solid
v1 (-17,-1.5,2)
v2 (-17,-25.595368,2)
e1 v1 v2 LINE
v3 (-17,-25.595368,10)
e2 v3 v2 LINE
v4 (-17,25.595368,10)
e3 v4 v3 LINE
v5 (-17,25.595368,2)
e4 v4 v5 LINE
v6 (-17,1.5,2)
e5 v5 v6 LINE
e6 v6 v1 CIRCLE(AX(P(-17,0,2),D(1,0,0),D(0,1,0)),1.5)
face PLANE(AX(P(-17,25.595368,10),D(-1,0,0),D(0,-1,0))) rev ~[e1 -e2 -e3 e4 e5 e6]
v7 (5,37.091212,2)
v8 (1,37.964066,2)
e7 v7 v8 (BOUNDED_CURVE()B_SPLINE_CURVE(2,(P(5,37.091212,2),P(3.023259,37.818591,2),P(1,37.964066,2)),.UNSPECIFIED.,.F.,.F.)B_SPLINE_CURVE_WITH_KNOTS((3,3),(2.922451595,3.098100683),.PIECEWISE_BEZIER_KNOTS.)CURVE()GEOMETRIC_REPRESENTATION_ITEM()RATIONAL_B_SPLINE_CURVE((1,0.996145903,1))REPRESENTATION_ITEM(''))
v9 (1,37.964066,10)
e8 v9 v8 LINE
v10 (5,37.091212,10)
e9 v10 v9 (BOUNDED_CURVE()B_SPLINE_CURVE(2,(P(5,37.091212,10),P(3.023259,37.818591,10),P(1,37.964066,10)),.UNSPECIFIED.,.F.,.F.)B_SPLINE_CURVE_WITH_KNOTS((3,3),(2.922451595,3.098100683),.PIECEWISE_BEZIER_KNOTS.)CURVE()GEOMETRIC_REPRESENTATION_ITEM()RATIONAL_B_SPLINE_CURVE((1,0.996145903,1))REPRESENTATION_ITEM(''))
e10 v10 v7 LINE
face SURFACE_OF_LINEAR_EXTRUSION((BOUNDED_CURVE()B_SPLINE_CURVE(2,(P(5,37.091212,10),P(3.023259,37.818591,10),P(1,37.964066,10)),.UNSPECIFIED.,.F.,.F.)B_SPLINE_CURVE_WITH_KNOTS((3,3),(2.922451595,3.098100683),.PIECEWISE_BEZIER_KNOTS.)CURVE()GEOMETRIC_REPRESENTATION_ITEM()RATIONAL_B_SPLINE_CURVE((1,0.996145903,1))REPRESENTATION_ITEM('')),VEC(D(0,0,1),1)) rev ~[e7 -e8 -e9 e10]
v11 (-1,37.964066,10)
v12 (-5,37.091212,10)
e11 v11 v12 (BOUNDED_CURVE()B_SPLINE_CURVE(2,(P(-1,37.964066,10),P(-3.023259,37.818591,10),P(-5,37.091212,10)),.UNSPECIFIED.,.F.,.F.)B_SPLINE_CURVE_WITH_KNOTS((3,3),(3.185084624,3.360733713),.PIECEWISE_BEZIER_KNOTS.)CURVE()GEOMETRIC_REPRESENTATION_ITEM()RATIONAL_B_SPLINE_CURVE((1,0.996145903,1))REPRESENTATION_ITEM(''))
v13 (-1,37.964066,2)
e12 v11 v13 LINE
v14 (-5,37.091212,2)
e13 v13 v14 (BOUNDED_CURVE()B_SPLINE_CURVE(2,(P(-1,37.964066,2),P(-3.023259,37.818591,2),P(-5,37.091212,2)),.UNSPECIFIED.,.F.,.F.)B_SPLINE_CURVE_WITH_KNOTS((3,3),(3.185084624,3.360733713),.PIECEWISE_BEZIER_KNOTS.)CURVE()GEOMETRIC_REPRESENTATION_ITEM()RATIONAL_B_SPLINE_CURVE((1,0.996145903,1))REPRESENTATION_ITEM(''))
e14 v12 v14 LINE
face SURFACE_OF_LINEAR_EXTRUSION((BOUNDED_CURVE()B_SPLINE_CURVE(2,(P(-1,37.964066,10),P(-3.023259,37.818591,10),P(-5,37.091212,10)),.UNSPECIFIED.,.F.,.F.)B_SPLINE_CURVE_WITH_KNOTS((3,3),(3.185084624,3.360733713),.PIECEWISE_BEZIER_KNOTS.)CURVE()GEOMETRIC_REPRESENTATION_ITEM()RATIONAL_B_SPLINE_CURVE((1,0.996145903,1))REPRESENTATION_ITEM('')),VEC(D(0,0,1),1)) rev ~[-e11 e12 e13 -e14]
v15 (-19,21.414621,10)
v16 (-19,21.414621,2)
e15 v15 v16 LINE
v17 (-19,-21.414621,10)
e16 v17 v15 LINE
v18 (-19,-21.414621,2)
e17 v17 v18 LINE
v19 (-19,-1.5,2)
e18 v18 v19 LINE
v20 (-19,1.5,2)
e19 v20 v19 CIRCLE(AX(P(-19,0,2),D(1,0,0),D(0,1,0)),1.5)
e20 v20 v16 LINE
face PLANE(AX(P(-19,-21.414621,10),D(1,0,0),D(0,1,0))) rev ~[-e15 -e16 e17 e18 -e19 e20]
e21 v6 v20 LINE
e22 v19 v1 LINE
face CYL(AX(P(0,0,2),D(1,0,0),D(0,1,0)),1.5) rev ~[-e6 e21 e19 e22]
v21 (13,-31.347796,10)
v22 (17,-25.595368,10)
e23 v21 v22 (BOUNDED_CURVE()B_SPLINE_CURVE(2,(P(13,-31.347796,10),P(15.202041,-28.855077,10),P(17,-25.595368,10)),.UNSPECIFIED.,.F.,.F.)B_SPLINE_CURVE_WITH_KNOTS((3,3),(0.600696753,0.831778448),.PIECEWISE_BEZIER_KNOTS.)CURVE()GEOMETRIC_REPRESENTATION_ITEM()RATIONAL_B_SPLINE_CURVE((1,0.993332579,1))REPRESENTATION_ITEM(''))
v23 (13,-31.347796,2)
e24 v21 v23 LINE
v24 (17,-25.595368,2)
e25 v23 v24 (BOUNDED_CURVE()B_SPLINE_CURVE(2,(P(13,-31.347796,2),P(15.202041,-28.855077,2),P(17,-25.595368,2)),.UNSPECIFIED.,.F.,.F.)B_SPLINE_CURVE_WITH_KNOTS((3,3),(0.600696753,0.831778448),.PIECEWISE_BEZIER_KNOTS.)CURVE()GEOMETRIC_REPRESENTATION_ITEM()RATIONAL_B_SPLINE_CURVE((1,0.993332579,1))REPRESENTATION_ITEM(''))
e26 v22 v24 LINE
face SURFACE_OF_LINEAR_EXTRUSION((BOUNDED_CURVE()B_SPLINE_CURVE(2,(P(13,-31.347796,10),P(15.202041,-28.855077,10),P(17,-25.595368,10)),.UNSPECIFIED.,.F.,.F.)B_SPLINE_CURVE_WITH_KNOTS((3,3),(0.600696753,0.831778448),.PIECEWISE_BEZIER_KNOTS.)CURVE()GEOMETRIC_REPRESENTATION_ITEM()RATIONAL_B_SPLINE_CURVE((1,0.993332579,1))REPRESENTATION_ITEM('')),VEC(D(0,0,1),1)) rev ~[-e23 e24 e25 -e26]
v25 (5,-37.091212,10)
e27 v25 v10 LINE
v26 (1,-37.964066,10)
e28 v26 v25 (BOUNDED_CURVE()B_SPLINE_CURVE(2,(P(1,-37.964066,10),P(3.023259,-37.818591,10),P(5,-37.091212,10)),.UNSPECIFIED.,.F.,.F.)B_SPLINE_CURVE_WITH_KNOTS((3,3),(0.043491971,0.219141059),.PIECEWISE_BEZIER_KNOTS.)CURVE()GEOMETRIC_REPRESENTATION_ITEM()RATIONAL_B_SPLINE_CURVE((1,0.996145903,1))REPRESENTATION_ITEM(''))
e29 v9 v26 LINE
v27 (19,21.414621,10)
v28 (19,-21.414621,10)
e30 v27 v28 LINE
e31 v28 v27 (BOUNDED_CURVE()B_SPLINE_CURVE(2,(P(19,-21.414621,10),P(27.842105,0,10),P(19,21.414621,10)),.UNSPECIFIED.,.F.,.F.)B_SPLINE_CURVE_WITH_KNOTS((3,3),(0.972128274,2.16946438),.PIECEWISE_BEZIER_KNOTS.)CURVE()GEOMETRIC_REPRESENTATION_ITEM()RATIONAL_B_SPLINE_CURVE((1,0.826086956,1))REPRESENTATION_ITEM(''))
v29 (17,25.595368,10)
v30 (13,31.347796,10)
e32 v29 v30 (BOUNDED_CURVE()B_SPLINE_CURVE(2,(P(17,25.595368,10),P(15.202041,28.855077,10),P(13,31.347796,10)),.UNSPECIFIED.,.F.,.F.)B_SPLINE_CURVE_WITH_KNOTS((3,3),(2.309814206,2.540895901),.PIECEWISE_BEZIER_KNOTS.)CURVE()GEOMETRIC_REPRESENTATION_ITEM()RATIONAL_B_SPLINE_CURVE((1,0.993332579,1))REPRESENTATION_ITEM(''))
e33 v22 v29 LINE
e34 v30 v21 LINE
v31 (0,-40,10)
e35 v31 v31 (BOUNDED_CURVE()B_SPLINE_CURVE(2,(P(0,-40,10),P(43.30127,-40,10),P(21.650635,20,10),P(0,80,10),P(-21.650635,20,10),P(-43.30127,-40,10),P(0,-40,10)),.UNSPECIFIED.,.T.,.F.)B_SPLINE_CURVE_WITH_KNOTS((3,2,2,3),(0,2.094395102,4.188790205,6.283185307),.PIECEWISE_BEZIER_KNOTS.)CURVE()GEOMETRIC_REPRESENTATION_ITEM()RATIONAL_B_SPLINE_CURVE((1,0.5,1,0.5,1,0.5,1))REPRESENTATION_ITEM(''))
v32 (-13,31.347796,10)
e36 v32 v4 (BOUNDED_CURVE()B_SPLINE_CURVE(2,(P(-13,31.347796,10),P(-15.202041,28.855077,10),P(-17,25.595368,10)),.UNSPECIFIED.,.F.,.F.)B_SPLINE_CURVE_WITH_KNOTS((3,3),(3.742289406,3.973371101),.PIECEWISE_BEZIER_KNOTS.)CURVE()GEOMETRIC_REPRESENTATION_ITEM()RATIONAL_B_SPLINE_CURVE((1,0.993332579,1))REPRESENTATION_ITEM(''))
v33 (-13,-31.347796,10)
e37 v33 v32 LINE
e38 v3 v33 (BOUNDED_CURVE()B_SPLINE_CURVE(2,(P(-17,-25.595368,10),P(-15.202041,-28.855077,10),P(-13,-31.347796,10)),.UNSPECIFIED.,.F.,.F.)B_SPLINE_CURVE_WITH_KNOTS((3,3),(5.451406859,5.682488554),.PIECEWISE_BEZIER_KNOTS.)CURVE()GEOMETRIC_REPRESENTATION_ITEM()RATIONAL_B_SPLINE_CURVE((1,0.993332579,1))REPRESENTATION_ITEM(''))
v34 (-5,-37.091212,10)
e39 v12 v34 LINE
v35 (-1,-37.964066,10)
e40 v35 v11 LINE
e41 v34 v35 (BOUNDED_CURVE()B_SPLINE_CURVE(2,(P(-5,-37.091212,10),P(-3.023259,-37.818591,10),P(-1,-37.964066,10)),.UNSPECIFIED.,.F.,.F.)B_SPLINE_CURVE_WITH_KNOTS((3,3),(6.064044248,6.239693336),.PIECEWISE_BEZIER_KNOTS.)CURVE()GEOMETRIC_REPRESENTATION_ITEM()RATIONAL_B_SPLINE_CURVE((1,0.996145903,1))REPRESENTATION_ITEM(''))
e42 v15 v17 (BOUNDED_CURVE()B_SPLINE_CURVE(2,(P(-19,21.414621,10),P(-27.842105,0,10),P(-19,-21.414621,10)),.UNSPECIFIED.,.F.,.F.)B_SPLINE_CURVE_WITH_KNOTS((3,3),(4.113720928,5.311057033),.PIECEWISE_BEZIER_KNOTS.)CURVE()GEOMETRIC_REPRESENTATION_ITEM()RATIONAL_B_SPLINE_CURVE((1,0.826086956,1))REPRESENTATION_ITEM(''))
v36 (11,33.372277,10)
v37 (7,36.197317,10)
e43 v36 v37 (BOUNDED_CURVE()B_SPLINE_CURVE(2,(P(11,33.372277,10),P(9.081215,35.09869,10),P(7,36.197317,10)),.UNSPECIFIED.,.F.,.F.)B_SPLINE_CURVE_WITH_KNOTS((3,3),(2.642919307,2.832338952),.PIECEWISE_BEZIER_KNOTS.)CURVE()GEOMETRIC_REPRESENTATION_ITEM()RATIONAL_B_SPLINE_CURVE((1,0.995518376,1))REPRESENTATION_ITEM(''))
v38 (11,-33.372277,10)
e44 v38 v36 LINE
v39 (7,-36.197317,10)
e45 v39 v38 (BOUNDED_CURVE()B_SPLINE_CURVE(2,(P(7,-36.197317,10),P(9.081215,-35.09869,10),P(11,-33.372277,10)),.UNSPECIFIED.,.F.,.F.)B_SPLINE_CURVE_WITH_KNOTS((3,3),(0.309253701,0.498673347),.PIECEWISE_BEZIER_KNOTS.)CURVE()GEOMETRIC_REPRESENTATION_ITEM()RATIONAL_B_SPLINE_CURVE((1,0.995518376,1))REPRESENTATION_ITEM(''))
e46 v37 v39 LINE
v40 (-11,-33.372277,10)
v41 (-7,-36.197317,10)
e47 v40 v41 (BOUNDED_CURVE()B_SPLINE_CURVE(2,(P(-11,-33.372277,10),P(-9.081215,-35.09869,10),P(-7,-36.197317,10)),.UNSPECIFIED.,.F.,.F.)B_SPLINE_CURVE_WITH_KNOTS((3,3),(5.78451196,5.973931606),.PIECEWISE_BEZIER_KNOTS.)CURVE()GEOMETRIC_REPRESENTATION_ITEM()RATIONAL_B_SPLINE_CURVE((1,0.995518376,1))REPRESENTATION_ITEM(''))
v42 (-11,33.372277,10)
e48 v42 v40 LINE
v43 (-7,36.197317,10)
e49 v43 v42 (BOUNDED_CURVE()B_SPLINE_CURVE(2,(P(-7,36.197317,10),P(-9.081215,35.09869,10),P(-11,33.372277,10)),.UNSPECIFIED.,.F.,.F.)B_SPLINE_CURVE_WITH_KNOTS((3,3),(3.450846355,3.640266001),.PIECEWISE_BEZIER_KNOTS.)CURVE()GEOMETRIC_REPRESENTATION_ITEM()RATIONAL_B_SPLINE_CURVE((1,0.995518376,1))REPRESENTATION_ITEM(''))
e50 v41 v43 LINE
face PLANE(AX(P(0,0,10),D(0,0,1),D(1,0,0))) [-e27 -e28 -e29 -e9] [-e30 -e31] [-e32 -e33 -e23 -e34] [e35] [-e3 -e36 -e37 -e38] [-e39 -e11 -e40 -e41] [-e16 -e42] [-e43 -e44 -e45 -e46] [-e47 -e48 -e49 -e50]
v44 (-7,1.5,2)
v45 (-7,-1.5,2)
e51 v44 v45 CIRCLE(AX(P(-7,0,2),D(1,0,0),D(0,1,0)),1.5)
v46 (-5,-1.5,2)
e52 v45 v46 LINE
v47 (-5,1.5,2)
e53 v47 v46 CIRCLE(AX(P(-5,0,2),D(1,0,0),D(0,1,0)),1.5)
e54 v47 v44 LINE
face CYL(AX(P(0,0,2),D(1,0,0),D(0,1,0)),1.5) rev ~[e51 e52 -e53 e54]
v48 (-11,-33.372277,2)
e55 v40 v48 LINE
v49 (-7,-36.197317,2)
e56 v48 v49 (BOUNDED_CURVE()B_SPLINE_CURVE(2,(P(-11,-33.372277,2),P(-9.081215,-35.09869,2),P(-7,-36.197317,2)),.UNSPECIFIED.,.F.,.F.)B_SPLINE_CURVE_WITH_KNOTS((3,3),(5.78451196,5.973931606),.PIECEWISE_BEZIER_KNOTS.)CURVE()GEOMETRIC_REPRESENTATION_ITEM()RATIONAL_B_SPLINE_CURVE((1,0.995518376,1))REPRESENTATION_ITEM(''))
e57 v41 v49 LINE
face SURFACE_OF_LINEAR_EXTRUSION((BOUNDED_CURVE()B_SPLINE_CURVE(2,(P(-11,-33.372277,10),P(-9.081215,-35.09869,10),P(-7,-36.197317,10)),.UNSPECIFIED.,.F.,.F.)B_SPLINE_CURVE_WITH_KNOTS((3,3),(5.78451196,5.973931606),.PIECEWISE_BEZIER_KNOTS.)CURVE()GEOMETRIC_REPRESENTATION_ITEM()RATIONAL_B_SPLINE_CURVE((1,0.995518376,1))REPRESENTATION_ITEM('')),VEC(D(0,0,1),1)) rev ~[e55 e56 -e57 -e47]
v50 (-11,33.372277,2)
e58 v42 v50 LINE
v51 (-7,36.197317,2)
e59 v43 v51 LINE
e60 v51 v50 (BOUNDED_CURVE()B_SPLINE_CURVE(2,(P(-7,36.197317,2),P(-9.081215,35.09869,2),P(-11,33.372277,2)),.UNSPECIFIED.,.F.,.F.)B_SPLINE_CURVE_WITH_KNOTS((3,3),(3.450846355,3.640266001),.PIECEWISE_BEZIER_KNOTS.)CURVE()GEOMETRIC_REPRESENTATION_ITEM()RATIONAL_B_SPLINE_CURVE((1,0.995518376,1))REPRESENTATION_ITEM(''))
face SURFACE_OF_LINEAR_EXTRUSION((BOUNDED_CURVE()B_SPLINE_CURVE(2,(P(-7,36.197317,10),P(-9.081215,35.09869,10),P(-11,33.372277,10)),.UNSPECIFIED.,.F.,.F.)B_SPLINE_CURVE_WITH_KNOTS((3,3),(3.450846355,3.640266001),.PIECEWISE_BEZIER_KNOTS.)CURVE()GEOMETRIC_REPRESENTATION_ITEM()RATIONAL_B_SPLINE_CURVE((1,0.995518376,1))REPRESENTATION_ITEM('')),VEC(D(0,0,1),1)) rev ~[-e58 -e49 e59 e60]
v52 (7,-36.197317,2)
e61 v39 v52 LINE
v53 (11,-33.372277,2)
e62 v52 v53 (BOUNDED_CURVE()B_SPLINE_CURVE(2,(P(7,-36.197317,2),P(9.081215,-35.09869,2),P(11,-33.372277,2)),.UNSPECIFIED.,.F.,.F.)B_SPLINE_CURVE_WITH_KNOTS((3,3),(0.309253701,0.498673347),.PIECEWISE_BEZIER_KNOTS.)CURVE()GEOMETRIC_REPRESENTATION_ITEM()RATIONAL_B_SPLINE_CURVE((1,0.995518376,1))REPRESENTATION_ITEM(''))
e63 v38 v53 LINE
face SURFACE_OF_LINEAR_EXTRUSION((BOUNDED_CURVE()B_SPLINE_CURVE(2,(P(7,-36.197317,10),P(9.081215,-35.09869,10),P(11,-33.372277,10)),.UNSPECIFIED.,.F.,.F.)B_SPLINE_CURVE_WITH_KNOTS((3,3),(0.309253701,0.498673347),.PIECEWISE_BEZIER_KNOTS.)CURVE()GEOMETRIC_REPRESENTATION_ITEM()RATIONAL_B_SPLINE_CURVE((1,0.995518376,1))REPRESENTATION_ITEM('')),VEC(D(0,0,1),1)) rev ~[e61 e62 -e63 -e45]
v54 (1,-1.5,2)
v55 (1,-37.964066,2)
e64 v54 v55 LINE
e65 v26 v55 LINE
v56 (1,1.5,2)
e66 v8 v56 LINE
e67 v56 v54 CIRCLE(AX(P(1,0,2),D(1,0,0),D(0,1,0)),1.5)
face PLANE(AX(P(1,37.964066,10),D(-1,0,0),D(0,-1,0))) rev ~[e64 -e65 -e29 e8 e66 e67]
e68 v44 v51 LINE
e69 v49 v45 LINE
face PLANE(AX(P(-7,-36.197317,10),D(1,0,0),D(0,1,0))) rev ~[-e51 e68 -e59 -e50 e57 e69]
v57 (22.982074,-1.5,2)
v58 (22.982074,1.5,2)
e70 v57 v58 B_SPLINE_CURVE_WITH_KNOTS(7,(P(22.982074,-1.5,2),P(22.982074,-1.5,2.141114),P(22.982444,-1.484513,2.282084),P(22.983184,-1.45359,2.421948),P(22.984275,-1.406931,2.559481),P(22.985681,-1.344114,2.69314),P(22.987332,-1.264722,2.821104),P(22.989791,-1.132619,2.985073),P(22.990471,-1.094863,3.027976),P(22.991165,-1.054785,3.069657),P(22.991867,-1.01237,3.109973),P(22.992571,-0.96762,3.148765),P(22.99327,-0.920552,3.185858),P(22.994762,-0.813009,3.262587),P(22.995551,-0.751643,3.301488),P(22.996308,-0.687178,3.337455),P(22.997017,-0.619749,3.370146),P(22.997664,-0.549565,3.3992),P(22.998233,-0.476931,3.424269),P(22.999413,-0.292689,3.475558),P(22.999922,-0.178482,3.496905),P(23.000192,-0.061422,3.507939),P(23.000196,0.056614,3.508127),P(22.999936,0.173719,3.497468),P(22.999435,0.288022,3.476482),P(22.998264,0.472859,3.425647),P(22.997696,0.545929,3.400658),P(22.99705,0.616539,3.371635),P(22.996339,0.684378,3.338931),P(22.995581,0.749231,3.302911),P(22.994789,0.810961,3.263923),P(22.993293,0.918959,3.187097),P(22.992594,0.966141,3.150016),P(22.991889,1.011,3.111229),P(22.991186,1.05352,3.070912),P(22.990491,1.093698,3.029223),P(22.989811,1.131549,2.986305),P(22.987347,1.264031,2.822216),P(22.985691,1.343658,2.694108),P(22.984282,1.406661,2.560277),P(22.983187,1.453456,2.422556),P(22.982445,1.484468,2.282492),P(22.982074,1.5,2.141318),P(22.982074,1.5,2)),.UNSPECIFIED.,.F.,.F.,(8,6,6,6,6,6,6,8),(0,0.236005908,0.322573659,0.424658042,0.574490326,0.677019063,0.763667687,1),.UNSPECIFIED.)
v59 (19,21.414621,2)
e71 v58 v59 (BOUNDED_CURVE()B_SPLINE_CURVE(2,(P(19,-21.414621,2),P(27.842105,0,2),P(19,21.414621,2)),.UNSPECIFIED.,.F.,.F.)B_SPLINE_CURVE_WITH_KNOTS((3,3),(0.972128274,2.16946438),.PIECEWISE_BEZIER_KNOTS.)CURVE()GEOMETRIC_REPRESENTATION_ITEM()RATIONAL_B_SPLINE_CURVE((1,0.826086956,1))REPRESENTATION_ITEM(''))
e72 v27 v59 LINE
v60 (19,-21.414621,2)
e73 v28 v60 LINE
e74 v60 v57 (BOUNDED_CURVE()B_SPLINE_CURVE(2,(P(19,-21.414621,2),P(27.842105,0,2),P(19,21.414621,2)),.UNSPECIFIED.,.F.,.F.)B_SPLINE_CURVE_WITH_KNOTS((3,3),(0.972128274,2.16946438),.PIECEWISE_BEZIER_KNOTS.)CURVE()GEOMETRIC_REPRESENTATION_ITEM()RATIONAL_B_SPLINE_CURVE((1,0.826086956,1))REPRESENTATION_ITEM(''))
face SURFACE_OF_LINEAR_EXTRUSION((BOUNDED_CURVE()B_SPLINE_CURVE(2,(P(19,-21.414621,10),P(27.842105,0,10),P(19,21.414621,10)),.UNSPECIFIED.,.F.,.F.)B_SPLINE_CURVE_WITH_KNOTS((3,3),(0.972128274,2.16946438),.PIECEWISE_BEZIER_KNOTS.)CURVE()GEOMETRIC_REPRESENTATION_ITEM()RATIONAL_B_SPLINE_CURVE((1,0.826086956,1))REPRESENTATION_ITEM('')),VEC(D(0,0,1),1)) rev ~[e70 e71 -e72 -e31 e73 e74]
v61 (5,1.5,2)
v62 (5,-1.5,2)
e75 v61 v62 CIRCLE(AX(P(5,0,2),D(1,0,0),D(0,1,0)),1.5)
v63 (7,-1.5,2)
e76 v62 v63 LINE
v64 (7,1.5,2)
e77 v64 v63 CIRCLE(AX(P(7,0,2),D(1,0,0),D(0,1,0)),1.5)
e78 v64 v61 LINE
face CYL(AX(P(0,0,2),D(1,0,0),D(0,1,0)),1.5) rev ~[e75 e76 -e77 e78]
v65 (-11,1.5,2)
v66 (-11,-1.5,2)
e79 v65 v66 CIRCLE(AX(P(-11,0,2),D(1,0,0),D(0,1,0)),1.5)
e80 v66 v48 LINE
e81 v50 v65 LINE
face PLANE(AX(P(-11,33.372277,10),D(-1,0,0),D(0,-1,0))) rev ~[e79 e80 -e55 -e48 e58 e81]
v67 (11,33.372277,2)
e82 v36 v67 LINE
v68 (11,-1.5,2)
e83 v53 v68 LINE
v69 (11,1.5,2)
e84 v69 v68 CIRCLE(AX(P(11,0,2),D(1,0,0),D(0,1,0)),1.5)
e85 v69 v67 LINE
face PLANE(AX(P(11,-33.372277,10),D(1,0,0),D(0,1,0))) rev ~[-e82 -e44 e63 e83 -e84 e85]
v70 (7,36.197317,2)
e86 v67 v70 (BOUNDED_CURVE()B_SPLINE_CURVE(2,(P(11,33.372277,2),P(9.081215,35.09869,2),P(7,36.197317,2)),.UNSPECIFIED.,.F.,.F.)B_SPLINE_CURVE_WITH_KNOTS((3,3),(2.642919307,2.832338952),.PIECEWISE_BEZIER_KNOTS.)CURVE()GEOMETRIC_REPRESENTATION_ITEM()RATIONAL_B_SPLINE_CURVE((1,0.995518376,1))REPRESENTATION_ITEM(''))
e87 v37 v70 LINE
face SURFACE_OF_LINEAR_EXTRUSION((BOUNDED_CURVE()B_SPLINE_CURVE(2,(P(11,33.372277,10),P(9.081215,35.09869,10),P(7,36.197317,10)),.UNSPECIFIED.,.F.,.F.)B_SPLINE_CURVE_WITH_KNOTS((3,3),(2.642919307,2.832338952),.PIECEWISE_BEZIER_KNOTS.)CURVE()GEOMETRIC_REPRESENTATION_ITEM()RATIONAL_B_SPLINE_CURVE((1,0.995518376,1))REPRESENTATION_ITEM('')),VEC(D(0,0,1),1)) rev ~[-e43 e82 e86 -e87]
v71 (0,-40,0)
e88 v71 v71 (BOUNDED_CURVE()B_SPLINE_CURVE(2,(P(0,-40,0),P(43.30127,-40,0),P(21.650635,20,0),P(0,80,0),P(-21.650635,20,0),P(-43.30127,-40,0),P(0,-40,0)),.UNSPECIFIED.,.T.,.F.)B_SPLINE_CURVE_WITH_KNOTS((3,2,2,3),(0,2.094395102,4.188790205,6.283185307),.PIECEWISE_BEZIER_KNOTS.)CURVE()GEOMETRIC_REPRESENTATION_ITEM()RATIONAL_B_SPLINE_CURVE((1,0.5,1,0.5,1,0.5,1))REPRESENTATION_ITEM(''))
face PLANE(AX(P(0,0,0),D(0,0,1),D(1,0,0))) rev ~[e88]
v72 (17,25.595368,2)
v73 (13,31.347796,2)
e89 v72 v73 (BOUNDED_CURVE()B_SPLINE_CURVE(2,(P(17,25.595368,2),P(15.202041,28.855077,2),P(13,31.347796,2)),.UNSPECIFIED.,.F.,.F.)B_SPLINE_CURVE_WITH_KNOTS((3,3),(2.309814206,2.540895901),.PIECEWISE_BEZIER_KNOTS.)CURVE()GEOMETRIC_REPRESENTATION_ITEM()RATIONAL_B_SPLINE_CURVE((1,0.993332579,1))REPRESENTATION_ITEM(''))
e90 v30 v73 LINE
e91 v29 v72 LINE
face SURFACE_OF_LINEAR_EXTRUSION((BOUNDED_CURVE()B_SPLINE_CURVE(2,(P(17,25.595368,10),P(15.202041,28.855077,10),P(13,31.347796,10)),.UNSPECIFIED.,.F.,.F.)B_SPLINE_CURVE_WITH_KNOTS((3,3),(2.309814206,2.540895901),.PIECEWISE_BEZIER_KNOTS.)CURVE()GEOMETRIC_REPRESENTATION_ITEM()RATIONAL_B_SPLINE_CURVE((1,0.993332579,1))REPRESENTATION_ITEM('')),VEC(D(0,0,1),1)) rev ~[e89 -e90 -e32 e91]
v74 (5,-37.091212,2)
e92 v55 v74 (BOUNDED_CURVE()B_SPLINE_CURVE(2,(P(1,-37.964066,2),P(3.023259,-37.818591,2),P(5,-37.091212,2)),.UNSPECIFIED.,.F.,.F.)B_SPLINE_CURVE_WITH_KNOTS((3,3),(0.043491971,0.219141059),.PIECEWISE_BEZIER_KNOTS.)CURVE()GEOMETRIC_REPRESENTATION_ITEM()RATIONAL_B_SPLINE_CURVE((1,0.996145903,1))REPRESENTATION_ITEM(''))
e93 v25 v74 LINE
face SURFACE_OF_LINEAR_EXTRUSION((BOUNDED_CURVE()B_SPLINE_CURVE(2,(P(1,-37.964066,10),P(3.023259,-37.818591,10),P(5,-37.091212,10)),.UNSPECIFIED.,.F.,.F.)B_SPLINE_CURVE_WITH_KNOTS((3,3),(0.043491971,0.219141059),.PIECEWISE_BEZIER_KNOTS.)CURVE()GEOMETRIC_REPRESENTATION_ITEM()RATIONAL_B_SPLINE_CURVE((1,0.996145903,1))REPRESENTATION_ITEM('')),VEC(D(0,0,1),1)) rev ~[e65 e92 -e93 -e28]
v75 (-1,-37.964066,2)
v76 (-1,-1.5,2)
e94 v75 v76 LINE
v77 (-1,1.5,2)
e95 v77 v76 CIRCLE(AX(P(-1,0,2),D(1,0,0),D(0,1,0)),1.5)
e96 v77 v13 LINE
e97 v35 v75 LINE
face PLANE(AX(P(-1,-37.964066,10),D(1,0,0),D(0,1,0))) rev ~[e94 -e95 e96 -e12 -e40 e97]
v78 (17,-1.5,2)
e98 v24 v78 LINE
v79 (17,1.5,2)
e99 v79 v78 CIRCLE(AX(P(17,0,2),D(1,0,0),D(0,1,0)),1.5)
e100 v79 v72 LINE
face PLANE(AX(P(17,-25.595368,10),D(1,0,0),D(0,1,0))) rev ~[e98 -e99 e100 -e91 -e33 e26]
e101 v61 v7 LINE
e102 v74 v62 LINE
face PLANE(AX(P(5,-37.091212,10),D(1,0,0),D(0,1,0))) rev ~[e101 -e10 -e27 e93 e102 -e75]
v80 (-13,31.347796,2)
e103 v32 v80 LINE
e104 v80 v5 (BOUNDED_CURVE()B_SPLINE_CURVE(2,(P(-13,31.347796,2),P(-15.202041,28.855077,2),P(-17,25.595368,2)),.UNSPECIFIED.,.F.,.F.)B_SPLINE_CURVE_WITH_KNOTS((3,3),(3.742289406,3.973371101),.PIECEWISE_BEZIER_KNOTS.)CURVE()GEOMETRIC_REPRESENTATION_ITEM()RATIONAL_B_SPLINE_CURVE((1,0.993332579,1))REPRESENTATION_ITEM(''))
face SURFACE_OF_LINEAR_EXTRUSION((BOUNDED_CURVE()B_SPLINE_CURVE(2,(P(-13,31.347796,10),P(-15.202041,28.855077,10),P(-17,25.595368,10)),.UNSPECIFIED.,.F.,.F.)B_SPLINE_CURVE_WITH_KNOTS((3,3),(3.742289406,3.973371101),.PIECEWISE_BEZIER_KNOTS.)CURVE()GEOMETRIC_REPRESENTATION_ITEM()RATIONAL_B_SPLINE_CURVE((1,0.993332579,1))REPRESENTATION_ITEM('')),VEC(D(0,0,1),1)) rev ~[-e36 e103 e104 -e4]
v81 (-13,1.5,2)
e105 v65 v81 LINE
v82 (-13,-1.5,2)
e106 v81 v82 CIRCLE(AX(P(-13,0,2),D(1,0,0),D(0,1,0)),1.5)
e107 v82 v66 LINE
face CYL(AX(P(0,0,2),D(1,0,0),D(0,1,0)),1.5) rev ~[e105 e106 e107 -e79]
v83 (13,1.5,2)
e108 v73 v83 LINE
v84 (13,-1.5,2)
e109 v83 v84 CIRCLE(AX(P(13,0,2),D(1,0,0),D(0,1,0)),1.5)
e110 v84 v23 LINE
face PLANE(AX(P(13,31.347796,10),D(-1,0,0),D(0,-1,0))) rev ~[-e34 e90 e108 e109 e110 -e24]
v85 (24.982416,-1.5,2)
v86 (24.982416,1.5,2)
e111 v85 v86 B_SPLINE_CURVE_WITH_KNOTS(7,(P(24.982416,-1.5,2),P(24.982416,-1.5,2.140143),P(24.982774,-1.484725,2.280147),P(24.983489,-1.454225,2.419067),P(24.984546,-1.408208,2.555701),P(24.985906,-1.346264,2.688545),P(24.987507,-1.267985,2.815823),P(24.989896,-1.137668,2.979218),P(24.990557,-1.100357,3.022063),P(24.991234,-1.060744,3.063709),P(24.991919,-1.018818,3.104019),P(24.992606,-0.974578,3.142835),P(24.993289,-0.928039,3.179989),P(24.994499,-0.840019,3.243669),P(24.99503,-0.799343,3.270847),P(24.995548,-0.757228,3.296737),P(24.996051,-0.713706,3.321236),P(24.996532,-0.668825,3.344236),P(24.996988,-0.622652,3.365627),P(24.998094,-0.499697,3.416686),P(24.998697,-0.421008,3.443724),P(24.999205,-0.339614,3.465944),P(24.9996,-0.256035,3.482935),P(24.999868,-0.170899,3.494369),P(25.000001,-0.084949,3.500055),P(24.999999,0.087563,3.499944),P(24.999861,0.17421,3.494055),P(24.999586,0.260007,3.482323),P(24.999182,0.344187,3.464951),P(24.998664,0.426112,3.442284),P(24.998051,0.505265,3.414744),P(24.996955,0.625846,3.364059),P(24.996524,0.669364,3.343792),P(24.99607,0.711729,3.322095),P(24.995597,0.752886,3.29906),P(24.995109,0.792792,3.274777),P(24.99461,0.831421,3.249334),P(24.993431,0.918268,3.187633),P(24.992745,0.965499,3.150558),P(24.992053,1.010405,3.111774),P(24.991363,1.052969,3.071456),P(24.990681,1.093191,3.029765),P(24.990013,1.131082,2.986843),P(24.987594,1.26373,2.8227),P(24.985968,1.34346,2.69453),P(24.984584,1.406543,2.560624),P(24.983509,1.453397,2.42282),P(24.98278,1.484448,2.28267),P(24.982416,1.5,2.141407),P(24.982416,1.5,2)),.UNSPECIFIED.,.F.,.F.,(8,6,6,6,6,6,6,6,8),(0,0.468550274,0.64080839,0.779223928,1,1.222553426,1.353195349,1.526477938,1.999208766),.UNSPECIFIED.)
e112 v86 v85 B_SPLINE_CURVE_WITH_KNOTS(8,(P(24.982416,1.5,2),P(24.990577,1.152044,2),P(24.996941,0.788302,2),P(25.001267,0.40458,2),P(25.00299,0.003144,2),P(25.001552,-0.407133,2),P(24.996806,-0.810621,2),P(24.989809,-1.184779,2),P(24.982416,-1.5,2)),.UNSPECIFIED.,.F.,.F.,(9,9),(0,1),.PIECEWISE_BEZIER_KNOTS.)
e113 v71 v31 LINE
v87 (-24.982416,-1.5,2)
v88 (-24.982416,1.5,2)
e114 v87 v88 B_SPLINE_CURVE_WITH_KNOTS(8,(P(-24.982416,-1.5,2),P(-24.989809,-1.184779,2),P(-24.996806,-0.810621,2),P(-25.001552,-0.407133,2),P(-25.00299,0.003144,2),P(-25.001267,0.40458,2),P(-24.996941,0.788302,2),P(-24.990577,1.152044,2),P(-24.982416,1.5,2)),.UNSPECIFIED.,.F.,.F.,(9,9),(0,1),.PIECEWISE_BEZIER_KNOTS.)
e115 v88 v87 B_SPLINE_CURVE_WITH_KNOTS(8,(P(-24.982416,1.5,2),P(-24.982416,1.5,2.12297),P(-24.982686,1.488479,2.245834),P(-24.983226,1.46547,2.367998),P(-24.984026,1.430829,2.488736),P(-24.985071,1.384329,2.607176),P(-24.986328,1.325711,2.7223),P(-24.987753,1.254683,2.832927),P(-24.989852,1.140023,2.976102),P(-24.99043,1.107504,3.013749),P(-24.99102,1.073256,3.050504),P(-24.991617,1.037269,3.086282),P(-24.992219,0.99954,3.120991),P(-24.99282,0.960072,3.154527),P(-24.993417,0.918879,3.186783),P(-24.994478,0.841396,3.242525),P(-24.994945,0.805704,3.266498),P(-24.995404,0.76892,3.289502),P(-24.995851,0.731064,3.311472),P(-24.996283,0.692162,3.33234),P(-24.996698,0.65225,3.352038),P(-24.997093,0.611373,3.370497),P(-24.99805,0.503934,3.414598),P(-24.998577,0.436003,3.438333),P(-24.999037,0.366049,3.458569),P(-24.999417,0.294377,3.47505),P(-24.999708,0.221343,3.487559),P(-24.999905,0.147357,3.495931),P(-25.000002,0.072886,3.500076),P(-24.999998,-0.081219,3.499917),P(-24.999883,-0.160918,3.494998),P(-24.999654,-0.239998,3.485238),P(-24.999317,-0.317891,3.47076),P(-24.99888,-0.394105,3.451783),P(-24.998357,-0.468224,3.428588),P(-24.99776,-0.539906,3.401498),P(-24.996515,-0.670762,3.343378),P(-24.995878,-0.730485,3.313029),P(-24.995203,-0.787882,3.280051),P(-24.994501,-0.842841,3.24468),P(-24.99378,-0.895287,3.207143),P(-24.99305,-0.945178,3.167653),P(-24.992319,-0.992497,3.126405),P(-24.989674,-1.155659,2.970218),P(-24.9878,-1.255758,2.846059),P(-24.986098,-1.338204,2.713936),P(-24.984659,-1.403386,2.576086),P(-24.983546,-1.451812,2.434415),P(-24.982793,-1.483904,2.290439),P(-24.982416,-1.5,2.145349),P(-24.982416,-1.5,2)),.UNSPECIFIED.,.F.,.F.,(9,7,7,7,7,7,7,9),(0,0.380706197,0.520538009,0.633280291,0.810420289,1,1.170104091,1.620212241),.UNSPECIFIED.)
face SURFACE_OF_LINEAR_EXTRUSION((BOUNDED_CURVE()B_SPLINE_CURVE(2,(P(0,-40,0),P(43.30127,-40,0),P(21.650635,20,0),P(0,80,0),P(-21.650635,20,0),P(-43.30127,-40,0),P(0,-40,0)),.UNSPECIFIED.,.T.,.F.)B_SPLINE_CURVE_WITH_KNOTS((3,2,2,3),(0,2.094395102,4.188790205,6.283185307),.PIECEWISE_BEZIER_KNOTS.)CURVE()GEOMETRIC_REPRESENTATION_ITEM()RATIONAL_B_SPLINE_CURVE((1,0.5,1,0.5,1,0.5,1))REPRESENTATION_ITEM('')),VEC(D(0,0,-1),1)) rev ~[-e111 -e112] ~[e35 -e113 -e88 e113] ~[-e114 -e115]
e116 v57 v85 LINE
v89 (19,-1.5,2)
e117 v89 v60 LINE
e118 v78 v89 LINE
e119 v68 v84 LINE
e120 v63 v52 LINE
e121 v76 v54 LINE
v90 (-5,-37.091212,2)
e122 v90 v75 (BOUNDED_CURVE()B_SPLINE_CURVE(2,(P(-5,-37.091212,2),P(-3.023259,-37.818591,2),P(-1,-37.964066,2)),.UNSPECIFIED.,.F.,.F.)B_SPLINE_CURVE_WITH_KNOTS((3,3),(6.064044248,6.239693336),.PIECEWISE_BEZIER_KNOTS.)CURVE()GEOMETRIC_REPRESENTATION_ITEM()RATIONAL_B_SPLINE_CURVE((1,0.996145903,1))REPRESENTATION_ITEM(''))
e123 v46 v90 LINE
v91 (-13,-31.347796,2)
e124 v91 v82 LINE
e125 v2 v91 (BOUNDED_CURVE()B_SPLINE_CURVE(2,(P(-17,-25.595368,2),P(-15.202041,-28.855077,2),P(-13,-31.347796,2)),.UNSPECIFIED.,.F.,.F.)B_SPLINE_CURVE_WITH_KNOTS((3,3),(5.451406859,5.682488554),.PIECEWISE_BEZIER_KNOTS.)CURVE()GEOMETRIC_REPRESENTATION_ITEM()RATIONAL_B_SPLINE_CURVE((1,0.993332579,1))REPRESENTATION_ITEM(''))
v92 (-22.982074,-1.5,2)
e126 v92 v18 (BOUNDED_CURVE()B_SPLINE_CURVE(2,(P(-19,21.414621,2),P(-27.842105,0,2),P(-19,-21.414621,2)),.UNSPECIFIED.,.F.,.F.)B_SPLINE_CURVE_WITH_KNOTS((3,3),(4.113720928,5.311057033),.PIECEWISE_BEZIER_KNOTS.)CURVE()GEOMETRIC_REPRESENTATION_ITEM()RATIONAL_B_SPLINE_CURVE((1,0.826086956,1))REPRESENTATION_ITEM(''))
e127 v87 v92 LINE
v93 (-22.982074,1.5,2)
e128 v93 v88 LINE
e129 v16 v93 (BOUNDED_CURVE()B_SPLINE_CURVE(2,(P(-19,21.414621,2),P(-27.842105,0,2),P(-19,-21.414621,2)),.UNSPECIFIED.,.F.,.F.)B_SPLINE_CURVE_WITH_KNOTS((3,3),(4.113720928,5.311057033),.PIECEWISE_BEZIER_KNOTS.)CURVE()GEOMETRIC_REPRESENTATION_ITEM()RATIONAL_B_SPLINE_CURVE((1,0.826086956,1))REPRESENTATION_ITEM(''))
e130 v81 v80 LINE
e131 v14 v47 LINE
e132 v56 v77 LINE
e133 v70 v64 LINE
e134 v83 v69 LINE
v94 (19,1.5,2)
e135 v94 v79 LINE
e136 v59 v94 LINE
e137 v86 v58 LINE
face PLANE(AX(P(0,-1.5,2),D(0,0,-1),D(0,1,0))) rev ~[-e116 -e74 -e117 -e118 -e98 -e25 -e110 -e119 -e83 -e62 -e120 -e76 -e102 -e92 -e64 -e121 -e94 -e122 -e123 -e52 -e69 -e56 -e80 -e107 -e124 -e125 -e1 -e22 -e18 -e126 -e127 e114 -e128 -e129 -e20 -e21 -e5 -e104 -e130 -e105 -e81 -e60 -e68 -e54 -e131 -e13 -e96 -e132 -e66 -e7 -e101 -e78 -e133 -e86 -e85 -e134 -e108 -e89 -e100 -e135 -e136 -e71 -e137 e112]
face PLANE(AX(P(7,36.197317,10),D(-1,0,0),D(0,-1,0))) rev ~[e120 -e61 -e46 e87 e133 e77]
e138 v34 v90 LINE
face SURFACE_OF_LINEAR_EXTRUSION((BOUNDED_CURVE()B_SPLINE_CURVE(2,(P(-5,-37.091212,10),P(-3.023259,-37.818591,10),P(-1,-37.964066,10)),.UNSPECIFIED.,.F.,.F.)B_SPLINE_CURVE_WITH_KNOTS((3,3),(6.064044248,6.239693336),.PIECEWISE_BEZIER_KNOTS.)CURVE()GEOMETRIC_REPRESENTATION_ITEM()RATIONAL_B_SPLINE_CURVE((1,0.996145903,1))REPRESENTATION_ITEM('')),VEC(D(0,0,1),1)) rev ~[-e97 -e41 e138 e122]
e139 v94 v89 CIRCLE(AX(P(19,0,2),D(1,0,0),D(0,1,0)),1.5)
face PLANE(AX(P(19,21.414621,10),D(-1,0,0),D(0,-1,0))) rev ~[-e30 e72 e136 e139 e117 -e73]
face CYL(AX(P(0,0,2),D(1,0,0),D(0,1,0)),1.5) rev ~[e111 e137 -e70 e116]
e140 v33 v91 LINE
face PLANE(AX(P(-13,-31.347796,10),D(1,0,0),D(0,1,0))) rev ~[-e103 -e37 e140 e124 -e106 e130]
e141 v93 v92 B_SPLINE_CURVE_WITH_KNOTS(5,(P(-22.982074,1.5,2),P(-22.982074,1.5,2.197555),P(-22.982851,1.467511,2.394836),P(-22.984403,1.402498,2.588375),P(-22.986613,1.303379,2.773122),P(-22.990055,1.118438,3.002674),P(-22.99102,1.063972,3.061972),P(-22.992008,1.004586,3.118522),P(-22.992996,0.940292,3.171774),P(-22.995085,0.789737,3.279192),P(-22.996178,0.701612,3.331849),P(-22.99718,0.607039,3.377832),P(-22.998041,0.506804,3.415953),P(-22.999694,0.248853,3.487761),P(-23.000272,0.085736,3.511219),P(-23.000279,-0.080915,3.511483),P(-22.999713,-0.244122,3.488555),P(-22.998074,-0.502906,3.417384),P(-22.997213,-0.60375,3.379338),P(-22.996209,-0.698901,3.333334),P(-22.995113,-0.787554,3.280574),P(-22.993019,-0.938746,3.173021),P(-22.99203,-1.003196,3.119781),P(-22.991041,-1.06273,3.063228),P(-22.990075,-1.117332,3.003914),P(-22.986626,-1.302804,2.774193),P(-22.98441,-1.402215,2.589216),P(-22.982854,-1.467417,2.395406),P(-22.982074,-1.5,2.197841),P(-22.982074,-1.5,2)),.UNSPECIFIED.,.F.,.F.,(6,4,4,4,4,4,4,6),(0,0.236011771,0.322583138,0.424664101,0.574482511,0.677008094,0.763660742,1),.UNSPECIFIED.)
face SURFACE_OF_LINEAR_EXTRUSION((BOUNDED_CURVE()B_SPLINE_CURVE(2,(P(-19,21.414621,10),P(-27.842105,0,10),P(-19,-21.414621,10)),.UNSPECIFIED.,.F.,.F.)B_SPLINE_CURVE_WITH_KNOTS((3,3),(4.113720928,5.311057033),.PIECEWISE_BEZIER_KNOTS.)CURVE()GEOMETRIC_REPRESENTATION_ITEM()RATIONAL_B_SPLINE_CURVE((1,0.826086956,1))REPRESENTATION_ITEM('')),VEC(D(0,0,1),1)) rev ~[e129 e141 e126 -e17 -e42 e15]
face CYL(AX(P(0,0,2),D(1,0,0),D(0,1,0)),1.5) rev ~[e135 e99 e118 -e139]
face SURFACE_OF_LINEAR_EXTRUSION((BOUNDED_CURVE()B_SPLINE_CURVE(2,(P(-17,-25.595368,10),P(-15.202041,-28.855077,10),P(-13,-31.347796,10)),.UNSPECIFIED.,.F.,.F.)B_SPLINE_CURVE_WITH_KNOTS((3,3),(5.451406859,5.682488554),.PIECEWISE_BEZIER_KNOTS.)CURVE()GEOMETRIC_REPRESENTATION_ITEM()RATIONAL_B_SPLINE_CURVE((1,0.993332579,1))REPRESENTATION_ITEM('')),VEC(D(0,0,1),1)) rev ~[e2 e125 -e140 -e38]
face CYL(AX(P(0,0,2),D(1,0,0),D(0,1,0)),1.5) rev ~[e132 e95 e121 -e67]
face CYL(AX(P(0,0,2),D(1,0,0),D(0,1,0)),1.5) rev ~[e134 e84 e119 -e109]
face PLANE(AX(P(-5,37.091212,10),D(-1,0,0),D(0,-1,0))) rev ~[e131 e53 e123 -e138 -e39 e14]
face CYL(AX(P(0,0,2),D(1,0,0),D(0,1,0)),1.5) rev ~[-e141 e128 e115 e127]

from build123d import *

# Parameters (mm, degrees)
F1_DEPTH = 10
F3_DEPTH = 8
F5_DEPTH = 50


with BuildPart() as f1:
    # F0 (on Top) → F1 (new body)
    with BuildSketch(Plane.XY):
        with BuildLine():
            add(Edge.make_bspline(
                [(0, -40), (43.3012701892, -40), (21.6506350946, 20), (0, 80), (-21.6506350946, 20), (-43.3012701892, -40), (0, -40)],
                knots=[0, 0, 0, 2.0943951024, 2.0943951024, 4.1887902048, 4.1887902048, 6.2831853072, 6.2831853072, 6.2831853072], degree=2, weights=[1, 0.5, 1, 0.5, 1, 0.5, 1]))
        make_face()
    extrude(amount=F1_DEPTH)

    # F2 (on face) → F3 (cut)
    with BuildSketch(Plane.XY.offset(10)):
        with BuildLine():
            Line((-19, -21.4146214382), (-19, 21.4146214382))
            add(Edge.make_bspline(
                [(-19, 21.4146214382), (-27.8421052632, 0), (-19, -21.4146214382)],
                knots=[4.1137209275, 4.1137209275, 4.1137209275, 5.3110570332, 5.3110570332, 5.3110570332], degree=2, weights=[1, 0.8260869565, 1]))
        make_face()
        with BuildLine():
            add(Edge.make_bspline(
                [(-13, 31.3477959356), (-15.2020410289, 28.8550772506), (-17, 25.595368201)],
                knots=[3.7422894065, 3.7422894065, 3.7422894065, 3.9733711014, 3.9733711014, 3.9733711014], degree=2, weights=[1, 0.9933325786, 1]))
            Line((-17, 25.595368201), (-17, -25.595368201))
            add(Edge.make_bspline(
                [(-17, -25.595368201), (-15.2020410289, -28.8550772506), (-13, -31.3477959356)],
                knots=[5.4514068594, 5.4514068594, 5.4514068594, 5.6824885542, 5.6824885542, 5.6824885542], degree=2, weights=[1, 0.9933325786, 1]))
            Line((-13, -31.3477959356), (-13, 31.3477959356))
        make_face()
        with BuildLine():
            Line((-11, 33.3722771876), (-11, -33.3722771876))
            add(Edge.make_bspline(
                [(-11, -33.3722771876), (-9.0812147806, -35.0986903109), (-7, -36.1973168438)],
                knots=[5.7845119601, 5.7845119601, 5.7845119601, 5.9739316061, 5.9739316061, 5.9739316061], degree=2, weights=[1, 0.9955183762, 1]))
            Line((-7, -36.1973168438), (-7, 36.1973168438))
            add(Edge.make_bspline(
                [(-7, 36.1973168438), (-9.0812147806, 35.0986903109), (-11, 33.3722771876)],
                knots=[3.4508463547, 3.4508463547, 3.4508463547, 3.6402660007, 3.6402660007, 3.6402660007], degree=2, weights=[1, 0.9955183762, 1]))
        make_face()
        with BuildLine():
            Line((-5, 37.0912123558), (-5, -37.0912123558))
            add(Edge.make_bspline(
                [(-5, -37.0912123558), (-3.0232589592, -37.8185905475), (-1, -37.9640661858)],
                knots=[6.0640442482, 6.0640442482, 6.0640442482, 6.2396933364, 6.2396933364, 6.2396933364], degree=2, weights=[1, 0.996145903, 1]))
            Line((-1, -37.9640661858), (-1, 37.9640661858))
            add(Edge.make_bspline(
                [(-1, 37.9640661858), (-3.0232589592, 37.8185905475), (-5, 37.0912123558)],
                knots=[3.1850846244, 3.1850846244, 3.1850846244, 3.3607337126, 3.3607337126, 3.3607337126], degree=2, weights=[1, 0.996145903, 1]))
        make_face()
        with BuildLine():
            Line((1, 37.9640661858), (1, -37.9640661858))
            add(Edge.make_bspline(
                [(1, -37.9640661858), (3.0232589592, -37.8185905475), (5, -37.0912123558)],
                knots=[0.0434919708, 0.0434919708, 0.0434919708, 0.219141059, 0.219141059, 0.219141059], degree=2, weights=[1, 0.996145903, 1]))
            Line((5, -37.0912123558), (5, 37.0912123558))
            add(Edge.make_bspline(
                [(5, 37.0912123558), (3.0232589592, 37.8185905475), (1, 37.9640661858)],
                knots=[2.9224515946, 2.9224515946, 2.9224515946, 3.0981006828, 3.0981006828, 3.0981006828], degree=2, weights=[1, 0.996145903, 1]))
        make_face()
        with BuildLine():
            add(Edge.make_bspline(
                [(11, 33.3722771876), (9.0812147806, 35.0986903109), (7, 36.1973168438)],
                knots=[2.6429193065, 2.6429193065, 2.6429193065, 2.8323389525, 2.8323389525, 2.8323389525], degree=2, weights=[1, 0.9955183762, 1]))
            Line((7, 36.1973168438), (7, -36.1973168438))
            add(Edge.make_bspline(
                [(7, -36.1973168438), (9.0812147806, -35.0986903109), (11, -33.3722771876)],
                knots=[0.3092537011, 0.3092537011, 0.3092537011, 0.4986733471, 0.4986733471, 0.4986733471], degree=2, weights=[1, 0.9955183762, 1]))
            Line((11, -33.3722771876), (11, 33.3722771876))
        make_face()
        with BuildLine():
            Line((13, 31.3477959356), (13, -31.3477959356))
            add(Edge.make_bspline(
                [(13, -31.3477959356), (15.2020410289, -28.8550772506), (17, -25.595368201)],
                knots=[0.6006967529, 0.6006967529, 0.6006967529, 0.8317784478, 0.8317784478, 0.8317784478], degree=2, weights=[1, 0.9933325786, 1]))
            Line((17, -25.595368201), (17, 25.595368201))
            add(Edge.make_bspline(
                [(17, 25.595368201), (15.2020410289, 28.8550772506), (13, 31.3477959356)],
                knots=[2.3098142058, 2.3098142058, 2.3098142058, 2.5408959007, 2.5408959007, 2.5408959007], degree=2, weights=[1, 0.9933325786, 1]))
        make_face()
        with BuildLine():
            add(Edge.make_bspline(
                [(19, -21.4146214382), (27.8421052632, 0), (19, 21.4146214382)],
                knots=[0.972128274, 0.972128274, 0.972128274, 2.1694643796, 2.1694643796, 2.1694643796], degree=2, weights=[1, 0.8260869565, 1]))
            Line((19, 21.4146214382), (19, -21.4146214382))
        make_face()
    extrude(amount=-F3_DEPTH, mode=Mode.SUBTRACT)

    # F4 (on Right) → F5 (cut, symmetric)
    with BuildSketch(Plane.YZ):
        with BuildLine():
            ThreePointArc((1.5, 2), (0, 3.5), (-1.5, 2))
            Line((-1.5, 2), (1.5, 2))
        make_face()
    extrude(amount=F5_DEPTH, both=True, mode=Mode.SUBTRACT)


solid = f1.part
